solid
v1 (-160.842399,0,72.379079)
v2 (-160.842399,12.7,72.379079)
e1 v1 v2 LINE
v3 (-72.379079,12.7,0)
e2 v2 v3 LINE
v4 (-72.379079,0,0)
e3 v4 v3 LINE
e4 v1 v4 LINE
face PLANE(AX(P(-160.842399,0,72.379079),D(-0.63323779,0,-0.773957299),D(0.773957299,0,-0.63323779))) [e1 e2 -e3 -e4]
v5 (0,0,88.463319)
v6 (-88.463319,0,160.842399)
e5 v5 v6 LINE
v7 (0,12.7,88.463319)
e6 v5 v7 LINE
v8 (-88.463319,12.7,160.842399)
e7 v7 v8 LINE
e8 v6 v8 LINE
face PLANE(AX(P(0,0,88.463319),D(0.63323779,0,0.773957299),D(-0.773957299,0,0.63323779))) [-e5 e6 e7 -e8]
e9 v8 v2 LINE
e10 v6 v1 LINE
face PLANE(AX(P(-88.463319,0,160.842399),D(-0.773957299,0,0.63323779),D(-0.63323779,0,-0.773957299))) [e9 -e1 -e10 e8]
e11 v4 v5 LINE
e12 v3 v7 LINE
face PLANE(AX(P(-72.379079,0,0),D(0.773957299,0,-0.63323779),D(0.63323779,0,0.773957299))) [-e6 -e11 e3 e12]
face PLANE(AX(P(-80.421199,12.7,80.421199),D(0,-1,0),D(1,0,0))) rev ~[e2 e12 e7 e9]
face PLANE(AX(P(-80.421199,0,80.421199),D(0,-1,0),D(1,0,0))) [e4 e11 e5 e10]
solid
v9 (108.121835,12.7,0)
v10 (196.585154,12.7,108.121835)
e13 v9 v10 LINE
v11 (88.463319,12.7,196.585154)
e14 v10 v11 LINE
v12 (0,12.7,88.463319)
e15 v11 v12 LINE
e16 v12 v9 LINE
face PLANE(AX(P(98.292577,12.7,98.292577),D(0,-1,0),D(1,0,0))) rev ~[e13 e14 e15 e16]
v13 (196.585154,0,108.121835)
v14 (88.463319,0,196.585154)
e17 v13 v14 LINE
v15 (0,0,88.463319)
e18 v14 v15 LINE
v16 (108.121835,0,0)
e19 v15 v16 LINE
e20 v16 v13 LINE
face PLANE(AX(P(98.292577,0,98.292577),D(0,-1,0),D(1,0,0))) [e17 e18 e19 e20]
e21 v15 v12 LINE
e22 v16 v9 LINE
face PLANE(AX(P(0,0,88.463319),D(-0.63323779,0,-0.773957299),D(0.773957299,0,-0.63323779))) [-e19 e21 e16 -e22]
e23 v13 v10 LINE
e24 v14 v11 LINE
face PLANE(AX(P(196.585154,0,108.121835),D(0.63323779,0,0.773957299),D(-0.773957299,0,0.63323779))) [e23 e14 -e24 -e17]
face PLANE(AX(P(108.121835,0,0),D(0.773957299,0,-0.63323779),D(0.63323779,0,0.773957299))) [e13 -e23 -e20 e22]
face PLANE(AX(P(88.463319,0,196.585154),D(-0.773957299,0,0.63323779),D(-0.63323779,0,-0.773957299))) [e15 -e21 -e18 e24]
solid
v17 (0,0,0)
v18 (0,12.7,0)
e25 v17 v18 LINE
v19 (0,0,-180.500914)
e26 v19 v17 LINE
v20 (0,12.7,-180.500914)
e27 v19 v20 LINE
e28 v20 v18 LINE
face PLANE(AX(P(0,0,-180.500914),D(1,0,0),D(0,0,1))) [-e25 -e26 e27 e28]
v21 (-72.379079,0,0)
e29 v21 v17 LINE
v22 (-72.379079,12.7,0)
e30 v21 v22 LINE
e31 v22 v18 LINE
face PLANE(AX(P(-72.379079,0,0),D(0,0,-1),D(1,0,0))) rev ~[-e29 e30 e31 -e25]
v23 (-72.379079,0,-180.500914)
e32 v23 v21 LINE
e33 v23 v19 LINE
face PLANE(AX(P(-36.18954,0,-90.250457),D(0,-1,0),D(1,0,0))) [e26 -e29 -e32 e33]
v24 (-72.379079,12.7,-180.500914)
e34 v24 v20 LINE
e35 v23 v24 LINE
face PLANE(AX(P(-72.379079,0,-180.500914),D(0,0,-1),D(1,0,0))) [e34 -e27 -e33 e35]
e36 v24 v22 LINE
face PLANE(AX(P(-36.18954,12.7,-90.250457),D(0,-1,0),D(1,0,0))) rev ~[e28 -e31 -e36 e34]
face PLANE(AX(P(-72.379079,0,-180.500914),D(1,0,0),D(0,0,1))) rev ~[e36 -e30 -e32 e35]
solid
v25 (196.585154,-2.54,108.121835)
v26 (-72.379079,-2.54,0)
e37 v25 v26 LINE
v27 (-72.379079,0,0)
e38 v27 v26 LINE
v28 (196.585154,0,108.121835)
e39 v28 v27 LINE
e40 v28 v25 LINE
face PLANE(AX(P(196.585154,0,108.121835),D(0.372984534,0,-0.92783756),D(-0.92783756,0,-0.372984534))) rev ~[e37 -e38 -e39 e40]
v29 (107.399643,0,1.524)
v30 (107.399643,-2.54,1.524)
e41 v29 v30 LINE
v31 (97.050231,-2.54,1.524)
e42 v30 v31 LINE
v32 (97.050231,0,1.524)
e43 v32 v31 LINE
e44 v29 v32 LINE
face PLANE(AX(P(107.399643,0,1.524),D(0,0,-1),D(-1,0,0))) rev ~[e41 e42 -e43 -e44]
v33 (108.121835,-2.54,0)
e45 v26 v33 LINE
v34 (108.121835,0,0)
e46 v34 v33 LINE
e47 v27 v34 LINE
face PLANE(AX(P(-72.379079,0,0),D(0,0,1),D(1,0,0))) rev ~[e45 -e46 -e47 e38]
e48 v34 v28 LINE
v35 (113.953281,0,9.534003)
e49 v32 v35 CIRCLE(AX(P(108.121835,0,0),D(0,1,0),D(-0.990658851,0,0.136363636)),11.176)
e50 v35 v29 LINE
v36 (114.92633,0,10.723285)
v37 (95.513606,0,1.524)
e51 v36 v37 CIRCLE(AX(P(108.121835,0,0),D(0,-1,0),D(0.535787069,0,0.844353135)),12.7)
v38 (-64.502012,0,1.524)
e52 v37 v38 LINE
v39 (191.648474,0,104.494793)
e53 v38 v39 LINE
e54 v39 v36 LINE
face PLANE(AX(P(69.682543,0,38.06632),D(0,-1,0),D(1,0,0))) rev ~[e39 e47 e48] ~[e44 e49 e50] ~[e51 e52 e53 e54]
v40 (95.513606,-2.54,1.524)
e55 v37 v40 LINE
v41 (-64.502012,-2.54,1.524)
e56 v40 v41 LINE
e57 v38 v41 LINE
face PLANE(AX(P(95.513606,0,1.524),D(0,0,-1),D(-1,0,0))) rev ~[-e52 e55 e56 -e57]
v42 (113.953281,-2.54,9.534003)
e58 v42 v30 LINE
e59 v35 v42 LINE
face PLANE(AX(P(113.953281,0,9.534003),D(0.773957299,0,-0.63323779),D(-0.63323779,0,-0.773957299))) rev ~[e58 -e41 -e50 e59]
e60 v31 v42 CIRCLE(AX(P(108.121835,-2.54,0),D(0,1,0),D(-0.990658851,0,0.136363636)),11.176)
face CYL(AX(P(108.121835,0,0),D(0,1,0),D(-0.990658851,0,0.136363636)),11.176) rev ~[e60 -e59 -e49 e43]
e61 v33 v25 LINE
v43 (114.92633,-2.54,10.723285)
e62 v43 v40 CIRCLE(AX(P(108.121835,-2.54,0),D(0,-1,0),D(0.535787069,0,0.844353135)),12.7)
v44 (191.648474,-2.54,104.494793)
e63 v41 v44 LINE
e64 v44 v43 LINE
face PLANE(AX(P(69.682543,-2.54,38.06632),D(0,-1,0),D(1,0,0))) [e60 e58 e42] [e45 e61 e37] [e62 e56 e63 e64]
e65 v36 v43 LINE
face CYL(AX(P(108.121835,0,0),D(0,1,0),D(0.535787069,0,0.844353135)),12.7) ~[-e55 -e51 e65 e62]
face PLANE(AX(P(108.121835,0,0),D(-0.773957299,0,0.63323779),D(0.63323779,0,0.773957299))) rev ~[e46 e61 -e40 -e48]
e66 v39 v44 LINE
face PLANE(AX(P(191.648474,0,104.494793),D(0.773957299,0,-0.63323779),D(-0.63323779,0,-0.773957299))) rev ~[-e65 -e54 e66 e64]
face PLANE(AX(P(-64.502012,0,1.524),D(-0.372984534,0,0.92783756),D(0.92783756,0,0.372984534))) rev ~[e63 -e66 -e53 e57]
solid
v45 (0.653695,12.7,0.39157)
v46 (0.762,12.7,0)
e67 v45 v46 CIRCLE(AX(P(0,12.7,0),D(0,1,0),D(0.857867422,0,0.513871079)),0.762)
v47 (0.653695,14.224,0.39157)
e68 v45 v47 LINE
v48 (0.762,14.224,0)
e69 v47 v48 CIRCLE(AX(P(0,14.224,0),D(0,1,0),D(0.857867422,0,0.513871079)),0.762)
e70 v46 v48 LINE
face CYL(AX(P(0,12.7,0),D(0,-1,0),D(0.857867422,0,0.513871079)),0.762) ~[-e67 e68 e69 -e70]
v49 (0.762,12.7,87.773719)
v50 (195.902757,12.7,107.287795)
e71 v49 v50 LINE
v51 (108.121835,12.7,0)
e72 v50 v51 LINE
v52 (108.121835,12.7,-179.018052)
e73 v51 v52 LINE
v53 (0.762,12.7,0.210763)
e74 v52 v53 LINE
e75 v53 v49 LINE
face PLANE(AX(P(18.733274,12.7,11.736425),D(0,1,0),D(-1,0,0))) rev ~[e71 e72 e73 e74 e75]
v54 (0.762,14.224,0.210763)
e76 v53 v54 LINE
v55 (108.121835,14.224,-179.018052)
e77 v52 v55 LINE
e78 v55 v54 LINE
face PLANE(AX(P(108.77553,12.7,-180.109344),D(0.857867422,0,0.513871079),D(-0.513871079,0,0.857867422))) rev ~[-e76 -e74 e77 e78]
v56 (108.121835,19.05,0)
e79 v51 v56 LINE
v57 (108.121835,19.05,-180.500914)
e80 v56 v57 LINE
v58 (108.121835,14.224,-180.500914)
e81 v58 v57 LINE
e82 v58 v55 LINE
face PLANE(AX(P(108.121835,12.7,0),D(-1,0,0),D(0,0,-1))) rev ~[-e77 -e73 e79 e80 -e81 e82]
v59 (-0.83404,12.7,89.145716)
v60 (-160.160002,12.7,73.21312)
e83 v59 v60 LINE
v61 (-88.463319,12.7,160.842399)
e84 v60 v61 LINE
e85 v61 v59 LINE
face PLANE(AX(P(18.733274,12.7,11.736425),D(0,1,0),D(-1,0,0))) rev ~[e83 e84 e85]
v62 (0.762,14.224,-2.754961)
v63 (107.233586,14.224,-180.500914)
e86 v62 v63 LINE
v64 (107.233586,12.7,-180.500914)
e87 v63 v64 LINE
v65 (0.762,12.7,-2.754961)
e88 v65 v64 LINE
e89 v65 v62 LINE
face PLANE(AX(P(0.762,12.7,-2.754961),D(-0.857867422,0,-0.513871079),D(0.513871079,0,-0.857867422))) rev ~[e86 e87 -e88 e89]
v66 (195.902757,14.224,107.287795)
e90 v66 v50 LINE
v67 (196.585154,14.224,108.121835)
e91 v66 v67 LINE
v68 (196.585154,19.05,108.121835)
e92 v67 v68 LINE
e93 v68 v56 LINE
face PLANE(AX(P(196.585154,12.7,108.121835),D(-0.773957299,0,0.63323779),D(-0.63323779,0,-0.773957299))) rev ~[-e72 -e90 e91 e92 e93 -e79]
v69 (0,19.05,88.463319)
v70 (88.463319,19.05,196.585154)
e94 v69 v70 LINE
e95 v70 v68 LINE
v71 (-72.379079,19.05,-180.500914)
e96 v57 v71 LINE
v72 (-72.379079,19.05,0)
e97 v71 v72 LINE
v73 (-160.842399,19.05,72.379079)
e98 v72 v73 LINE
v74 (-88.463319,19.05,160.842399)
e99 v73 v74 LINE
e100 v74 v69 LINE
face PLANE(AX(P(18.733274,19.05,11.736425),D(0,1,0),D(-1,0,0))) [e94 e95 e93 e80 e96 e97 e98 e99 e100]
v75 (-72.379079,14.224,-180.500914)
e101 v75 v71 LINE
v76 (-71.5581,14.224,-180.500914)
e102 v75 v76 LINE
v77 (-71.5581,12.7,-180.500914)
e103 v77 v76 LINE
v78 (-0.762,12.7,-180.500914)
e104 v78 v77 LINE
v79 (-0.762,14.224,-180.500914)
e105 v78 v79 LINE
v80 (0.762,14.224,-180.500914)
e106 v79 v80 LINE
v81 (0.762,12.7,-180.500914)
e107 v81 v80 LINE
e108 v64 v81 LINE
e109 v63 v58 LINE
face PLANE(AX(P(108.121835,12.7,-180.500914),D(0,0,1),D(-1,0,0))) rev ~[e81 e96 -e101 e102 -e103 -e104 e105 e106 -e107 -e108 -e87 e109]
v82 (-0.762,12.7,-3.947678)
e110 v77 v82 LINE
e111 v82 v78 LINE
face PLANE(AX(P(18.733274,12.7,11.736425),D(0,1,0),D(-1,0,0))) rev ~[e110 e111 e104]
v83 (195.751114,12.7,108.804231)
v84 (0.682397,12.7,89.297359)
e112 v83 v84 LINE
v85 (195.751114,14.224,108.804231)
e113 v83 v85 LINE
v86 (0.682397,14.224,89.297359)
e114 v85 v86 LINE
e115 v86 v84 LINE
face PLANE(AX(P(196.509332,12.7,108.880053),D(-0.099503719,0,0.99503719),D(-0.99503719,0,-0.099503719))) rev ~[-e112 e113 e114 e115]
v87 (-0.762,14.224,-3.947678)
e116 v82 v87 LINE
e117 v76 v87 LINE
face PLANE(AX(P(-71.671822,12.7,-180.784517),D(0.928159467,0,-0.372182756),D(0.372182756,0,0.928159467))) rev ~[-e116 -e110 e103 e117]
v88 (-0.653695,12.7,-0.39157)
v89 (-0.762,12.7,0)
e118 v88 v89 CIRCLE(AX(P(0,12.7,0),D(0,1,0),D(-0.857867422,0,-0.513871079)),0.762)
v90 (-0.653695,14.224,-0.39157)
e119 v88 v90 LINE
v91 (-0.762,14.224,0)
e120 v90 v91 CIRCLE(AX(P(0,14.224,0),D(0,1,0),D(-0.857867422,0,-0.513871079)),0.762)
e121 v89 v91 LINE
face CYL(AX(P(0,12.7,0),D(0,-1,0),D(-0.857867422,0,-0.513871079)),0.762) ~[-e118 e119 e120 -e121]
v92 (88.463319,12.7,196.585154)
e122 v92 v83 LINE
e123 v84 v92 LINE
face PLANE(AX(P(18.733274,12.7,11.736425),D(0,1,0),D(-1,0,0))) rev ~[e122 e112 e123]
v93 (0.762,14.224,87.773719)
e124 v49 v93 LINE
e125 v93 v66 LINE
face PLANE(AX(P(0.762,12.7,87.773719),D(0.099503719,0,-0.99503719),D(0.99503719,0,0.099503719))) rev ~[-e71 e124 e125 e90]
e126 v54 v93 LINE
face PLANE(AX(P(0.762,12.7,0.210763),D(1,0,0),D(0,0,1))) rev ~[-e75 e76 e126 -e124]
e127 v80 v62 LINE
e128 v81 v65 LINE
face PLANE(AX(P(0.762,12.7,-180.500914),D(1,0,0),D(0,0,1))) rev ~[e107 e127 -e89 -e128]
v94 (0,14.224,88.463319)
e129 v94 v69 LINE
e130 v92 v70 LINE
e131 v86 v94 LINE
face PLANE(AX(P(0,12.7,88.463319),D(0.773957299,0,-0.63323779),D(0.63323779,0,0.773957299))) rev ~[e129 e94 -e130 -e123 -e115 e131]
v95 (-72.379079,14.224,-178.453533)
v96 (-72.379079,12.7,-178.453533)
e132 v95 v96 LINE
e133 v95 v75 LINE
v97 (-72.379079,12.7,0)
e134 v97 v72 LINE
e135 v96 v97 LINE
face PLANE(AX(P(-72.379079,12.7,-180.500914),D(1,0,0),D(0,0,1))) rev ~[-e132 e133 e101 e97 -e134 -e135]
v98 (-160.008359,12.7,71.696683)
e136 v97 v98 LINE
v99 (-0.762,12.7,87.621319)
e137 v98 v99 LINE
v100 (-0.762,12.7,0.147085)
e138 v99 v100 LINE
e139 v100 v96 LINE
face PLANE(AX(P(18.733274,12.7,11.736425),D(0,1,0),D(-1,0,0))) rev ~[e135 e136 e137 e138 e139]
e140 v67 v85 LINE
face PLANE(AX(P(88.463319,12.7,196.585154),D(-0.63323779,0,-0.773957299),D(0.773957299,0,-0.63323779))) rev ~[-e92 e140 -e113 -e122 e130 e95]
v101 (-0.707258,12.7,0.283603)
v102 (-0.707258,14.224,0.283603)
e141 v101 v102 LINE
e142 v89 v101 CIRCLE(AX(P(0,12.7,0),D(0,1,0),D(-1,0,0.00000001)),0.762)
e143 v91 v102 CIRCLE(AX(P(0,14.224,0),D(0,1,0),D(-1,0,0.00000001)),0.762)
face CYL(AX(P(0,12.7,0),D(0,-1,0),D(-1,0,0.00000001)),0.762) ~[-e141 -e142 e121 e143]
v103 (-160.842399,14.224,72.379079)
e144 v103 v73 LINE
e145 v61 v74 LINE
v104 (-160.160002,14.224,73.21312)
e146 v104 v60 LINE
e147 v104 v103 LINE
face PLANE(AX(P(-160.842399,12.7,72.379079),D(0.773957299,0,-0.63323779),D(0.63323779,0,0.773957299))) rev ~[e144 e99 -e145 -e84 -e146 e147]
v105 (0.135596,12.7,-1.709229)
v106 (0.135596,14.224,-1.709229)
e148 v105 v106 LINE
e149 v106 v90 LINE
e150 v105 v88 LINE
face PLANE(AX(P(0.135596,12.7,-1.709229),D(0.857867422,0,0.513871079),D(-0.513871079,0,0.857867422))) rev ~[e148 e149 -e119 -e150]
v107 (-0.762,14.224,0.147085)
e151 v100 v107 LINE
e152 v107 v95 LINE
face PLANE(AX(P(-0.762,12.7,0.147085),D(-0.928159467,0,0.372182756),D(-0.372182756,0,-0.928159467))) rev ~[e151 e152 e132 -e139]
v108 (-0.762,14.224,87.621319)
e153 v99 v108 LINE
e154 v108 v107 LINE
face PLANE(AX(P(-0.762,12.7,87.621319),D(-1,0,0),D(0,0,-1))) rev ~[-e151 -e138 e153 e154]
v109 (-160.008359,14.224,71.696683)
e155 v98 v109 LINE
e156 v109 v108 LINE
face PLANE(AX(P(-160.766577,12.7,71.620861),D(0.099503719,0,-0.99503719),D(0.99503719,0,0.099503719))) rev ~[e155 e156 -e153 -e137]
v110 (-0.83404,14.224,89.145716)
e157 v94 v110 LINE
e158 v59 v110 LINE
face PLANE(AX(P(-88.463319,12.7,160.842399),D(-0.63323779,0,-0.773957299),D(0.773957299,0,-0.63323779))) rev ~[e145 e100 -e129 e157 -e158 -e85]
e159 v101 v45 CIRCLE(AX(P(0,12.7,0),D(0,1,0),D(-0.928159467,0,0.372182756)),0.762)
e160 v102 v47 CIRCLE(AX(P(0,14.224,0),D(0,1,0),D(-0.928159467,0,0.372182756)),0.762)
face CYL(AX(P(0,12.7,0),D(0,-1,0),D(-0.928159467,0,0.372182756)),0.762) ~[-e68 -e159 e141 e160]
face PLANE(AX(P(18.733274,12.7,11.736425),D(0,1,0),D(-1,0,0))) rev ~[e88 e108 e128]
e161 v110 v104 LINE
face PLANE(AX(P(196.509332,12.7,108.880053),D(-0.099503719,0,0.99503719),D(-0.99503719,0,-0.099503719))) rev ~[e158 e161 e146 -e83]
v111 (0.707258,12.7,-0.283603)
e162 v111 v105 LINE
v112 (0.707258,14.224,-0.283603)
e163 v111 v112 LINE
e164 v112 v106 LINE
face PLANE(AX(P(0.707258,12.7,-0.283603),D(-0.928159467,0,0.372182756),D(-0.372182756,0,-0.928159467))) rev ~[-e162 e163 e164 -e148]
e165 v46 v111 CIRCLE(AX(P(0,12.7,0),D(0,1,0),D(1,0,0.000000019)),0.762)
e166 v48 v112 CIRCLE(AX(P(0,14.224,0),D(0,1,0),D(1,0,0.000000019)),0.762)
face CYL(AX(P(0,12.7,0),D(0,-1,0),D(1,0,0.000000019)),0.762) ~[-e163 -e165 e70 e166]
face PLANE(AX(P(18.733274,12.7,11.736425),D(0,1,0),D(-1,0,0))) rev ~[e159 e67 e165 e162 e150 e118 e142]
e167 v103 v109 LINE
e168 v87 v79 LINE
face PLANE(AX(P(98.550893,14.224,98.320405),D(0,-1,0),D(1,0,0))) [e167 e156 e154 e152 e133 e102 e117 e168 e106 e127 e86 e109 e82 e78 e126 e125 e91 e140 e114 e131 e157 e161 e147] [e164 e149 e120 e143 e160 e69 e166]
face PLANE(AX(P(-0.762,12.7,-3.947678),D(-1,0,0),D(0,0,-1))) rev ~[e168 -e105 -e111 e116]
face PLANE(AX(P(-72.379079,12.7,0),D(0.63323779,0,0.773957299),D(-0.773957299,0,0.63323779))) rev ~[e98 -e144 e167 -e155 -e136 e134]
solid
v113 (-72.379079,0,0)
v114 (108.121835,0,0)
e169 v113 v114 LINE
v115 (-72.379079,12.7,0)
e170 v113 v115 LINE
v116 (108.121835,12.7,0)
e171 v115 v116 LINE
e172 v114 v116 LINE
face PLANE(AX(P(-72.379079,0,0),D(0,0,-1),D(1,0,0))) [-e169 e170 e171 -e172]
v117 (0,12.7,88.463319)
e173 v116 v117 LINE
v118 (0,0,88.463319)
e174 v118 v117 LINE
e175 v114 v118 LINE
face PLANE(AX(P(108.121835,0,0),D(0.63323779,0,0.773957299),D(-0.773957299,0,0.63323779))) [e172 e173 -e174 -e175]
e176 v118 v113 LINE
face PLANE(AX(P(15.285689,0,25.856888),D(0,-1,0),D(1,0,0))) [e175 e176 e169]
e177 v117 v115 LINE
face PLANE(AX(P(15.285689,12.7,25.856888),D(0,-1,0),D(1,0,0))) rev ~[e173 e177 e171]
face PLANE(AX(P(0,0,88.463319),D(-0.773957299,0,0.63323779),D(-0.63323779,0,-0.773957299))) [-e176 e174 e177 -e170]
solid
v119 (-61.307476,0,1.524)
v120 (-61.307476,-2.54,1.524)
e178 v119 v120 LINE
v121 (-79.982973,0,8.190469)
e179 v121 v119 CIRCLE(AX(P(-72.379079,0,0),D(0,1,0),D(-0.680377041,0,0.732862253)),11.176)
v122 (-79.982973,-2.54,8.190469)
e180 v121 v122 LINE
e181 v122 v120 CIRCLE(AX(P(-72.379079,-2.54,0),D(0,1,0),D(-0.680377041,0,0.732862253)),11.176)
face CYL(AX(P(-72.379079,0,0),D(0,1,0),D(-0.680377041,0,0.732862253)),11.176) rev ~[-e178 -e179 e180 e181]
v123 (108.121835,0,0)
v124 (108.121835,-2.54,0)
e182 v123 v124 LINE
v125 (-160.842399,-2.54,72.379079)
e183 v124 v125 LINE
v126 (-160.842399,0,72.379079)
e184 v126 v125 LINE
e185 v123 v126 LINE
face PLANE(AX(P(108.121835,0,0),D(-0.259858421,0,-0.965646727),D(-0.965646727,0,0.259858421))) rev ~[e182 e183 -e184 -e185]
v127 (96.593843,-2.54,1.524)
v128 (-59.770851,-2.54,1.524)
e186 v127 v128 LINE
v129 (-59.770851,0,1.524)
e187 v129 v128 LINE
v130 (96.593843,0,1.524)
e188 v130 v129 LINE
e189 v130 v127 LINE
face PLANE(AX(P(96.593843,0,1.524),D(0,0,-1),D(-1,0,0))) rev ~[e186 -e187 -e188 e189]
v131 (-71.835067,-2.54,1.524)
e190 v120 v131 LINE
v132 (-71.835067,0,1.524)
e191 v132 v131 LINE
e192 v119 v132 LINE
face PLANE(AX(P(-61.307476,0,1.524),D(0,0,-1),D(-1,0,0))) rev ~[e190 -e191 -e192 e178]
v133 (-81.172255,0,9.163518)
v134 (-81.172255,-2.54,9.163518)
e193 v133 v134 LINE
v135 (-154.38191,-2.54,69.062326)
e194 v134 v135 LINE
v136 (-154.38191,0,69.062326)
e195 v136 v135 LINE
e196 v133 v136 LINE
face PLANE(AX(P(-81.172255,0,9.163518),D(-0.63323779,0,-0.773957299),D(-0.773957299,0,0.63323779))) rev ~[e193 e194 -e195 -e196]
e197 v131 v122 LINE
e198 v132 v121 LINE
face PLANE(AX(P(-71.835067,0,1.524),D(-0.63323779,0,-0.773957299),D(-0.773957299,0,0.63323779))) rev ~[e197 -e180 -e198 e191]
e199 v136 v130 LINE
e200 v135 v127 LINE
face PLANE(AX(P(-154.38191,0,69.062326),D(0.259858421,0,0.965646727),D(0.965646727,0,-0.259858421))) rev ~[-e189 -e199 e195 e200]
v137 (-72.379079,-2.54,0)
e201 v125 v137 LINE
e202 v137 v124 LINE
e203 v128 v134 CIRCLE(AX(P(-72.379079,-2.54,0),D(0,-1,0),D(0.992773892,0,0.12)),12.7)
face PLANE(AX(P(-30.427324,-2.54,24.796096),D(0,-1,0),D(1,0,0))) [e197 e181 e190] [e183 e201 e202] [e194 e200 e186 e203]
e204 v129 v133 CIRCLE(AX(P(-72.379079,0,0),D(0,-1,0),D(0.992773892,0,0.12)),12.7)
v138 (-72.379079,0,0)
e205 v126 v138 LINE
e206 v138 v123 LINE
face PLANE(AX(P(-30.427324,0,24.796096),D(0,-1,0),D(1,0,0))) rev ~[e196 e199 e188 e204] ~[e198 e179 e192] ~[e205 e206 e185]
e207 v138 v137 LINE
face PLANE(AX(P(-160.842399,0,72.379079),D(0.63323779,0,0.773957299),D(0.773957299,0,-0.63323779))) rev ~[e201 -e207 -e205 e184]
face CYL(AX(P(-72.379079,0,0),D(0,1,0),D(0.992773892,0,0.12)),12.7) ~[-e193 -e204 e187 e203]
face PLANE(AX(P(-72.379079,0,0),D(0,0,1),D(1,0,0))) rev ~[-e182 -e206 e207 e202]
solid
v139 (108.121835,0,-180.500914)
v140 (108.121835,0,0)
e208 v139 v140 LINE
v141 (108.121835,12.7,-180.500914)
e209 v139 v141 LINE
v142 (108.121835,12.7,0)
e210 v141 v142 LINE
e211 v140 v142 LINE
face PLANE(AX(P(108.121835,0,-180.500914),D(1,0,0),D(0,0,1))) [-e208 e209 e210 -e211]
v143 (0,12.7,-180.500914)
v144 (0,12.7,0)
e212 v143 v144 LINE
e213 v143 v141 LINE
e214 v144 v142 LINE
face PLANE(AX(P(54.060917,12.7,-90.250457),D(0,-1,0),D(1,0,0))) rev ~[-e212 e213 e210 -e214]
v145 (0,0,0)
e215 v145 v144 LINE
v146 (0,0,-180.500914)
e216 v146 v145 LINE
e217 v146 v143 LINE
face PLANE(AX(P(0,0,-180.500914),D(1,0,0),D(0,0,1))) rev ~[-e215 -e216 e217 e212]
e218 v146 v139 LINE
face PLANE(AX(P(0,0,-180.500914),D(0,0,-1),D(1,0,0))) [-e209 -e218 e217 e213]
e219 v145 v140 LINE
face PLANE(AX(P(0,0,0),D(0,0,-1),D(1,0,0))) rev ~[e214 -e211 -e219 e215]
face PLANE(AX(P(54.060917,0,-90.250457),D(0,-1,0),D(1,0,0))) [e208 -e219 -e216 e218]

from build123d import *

# Parameters (mm, degrees)
F1_DEPTH  = 12.7
F3_DEPTH  = 6.35
F4_DEPTH  = 12.7
F0_W      = 72.3790794264
F0_H      = 180.5009141251
F5_DEPTH  = 12.7
F6_DEPTH  = 12.7
F0_W_2    = 108.1218346987
F7_DEPTH  = 12.7
F9_DEPTH  = 2.54
F11_DEPTH = 2.54
F13_DEPTH = 1.524


with BuildPart() as f1:
    # F0 (on Front) → F1 (new body)
    with BuildSketch(Plane.XZ):
        Polygon((0, 88.4633192989), (-72.3790794264, 0), (0, 0), (108.1218346987, 0), align=None)
    extrude(amount=-F1_DEPTH)


with BuildPart() as f3:
    # F2 (on face) → F3 (new body)
    with BuildSketch(Plane(origin=(0, 12.7, 0), x_dir=(-1, 0, 0), z_dir=(0, 1, 0))):
        Polygon((-196.5851539976, 108.1218346987), (-108.1218346987, 0), (-108.1218346987, -180.5009141251), (72.3790794264, -180.5009141251), (72.3790794264, 0), (160.8423987253, 72.3790794264), (88.4633192989, 160.8423987253), (0, 88.4633192989), (-88.4633192989, 196.5851539976), align=None)
    extrude(amount=F3_DEPTH)

    # F12 (on face) → F13 (cut)
    with BuildSketch(Plane.XZ.offset(-12.7)):
        with BuildLine():
            Line((196.5093321637, 108.8800530376), (-0.0758218339, 89.2215376379))
            ThreePointArc((-0.0758218339, 89.2215376379), (0.5113060544, 89.0283061295), (0.762, 88.4633192989))
            Line((0.762, 88.4633192989), (0.762, 87.7737187766))
            Line((0.762, 87.7737187766), (196.6609758315, 107.3636163598))
            ThreePointArc((196.6609758315, 107.3636163598), (197.3433723366, 108.1976565326), (196.5093321637, 108.8800530376))
        make_face()
        with BuildLine():
            ThreePointArc((-0.762, 88.4633192989), (-0.5649868306, 88.9746253534), (-0.0758218339, 89.2215376379))
            Line((-0.0758218339, 89.2215376379), (-160.9182205592, 73.1372977653))
            ThreePointArc((-160.9182205592, 73.1372977653), (-161.6006170643, 72.3032575925), (-160.7665768915, 71.6208610875))
            Line((-160.7665768915, 71.6208610875), (-0.762, 87.6213187766))
            Line((-0.762, 87.6213187766), (-0.762, 88.4633192989))
        make_face()
        with BuildLine():
            ThreePointArc((0.762, 88.4633192989), (0.5113060544, 89.0283061295), (-0.0758218339, 89.2215376379))
            ThreePointArc((-0.0758218339, 89.2215376379), (-0.5649868306, 88.9746253534), (-0.762, 88.4633192989))
            ThreePointArc((-0.762, 88.4633192989), (-0.5113060544, 87.8983324684), (0.0758218339, 87.70510096))
            ThreePointArc((0.0758218339, 87.70510096), (0.5649868306, 87.9520132445), (0.762, 88.4633192989))
        make_face()
        with BuildLine():
            Line((0.762, 87.7737187766), (0.762, 88.4633192989))
            ThreePointArc((0.762, 88.4633192989), (0.5649868306, 87.9520132445), (0.0758218339, 87.70510096))
            Line((0.0758218339, 87.70510096), (0.762, 87.7737187766))
        make_face()
        with BuildLine():
            ThreePointArc((0.0758218339, 87.70510096), (-0.5113060544, 87.8983324684), (-0.762, 88.4633192989))
            Line((-0.762, 88.4633192989), (-0.762, 87.6213187766))
            Line((-0.762, 87.6213187766), (0.0758218339, 87.70510096))
        make_face()
        with BuildLine():
            Line((0.762, 87.7737187766), (0.0758218339, 87.70510096))
            Line((0.0758218339, 87.70510096), (-0.762, 87.6213187766))
            Line((-0.762, 87.6213187766), (-0.762, 0.1470849612))
            Line((-0.762, 0.1470849612), (-0.7072575137, 0.2836032604))
            ThreePointArc((-0.7072575137, 0.2836032604), (-0.060261329, 0.7596134361), (0.6536949755, 0.3915697626))
            Line((0.6536949755, 0.3915697626), (0.762, 0.2107630275))
            Line((0.762, 0.2107630275), (0.762, 87.7737187766))
        make_face()
        with BuildLine():
            Line((108.7755296742, -180.1093443625), (0.762, 0.2107630275))
            Line((0.762, 0.2107630275), (0.762, 1.47e-08))
            Line((0.762, 1.47e-08), (0.762, -2.7549613746))
            Line((0.762, -2.7549613746), (107.4681397232, -180.8924838877))
            ThreePointArc((107.4681397232, -180.8924838877), (108.5134044613, -181.1546091006), (108.7755296742, -180.1093443625))
        make_face()
        with BuildLine():
            Line((0.762, 1.47e-08), (0.762, 0.2107630275))
            Line((0.762, 0.2107630275), (0.6536949755, 0.3915697626))
            ThreePointArc((0.6536949755, 0.3915697626), (0.7344247972, 0.2031359574), (0.762, 1.47e-08))
        make_face()
        with BuildLine():
            Line((-0.7072575137, 0.2836032604), (-0.762, 0.1470849612))
            Line((-0.762, 0.1470849612), (-0.762, 7.8e-09))
            ThreePointArc((-0.762, 7.8e-09), (-0.7481892218, 0.1444191413), (-0.7072575137, 0.2836032604))
        make_face()
        with BuildLine():
            Line((-0.762, 7.8e-09), (-0.762, 0.1470849612))
            Line((-0.762, 0.1470849612), (-73.0863369401, -180.2173108647))
            ThreePointArc((-73.0863369401, -180.2173108647), (-72.6626826868, -181.2081716388), (-71.6718219127, -180.7845173855))
            Line((-71.6718219127, -180.7845173855), (-0.762, -3.9476775538))
            Line((-0.762, -3.9476775538), (-0.762, 7.8e-09))
        make_face()
        with BuildLine():
            Line((0.762, -2.7549613746), (0.762, 1.47e-08))
            ThreePointArc((0.762, 1.47e-08), (0.7481892239, -0.1444191303), (0.7072575137, -0.2836032604))
            Line((0.7072575137, -0.2836032604), (0.1355958061, -1.7092287534))
            Line((0.1355958061, -1.7092287534), (0.762, -2.7549613746))
        make_face()
        with BuildLine():
            ThreePointArc((-0.6536949755, -0.3915697626), (-0.7344248002, -0.2031359466), (-0.762, 7.8e-09))
            Line((-0.762, 7.8e-09), (-0.762, -3.9476775538))
            Line((-0.762, -3.9476775538), (0.1355958061, -1.7092287534))
            Line((0.1355958061, -1.7092287534), (-0.6536949755, -0.3915697626))
        make_face()
        with BuildLine():
            Line((0.762, -180.5009141251), (0.762, -2.7549613746))
            Line((0.762, -2.7549613746), (0.1355958061, -1.7092287534))
            Line((0.1355958061, -1.7092287534), (-0.762, -3.9476775538))
            Line((-0.762, -3.9476775538), (-0.762, -180.5009141251))
            ThreePointArc((-0.762, -180.5009141251), (0, -181.2629141251), (0.762, -180.5009141251))
        make_face()
    extrude(amount=-F13_DEPTH, mode=Mode.SUBTRACT)


with BuildPart() as f4:
    # F0 (on Front) → F4 (new body)
    with BuildSketch(Plane.XZ):
        Polygon((-160.8423987253, 72.3790794264), (-72.3790794264, 0), (0, 88.4633192989), (-88.4633192989, 160.8423987253), align=None)
    extrude(amount=-F4_DEPTH)


with BuildPart() as f5:
    # F0 (on Front) → F5 (new body)
    with BuildSketch(Plane.XZ):
        with Locations((-36.1895397132, -90.2504570626)):
            Rectangle(F0_W, F0_H)
    extrude(amount=-F5_DEPTH)


with BuildPart() as f6:
    # F0 (on Front) → F6 (new body)
    with BuildSketch(Plane.XZ):
        Polygon((88.4633192989, 196.5851539976), (0, 88.4633192989), (108.1218346987, 0), (196.5851539976, 108.1218346987), align=None)
    extrude(amount=-F6_DEPTH)


with BuildPart() as f7:
    # F0 (on Front) → F7 (new body)
    with BuildSketch(Plane.XZ):
        with Locations((54.0609173494, -90.2504570626)):
            Rectangle(F0_W_2, F0_H)
    extrude(amount=-F7_DEPTH)


with BuildPart() as f9:
    # F8 (on Front) → F9 (new body)
    with BuildSketch(Plane.XZ):
        Polygon((-160.8423987253, 72.3790794264), (-72.3790794264, 0), (108.1218346987, 0), align=None)
        with BuildLine():
            Line((-61.3074761098, 1.524), (-71.8350672381, 1.524))
            Line((-71.8350672381, 1.524), (-79.9829732348, 8.1904685428))
            ThreePointArc((-79.9829732348, 8.1904685428), (-68.6218593082, 10.5255058303), (-61.3074761098, 1.524))
        make_face(mode=Mode.SUBTRACT)
        with BuildLine():
            Line((-154.3819095996, 69.0623255685), (96.593843439, 1.524))
            Line((96.593843439, 1.524), (-59.7708510021, 1.524))
            ThreePointArc((-59.7708510021, 1.524), (-68.1095111103, 11.9608020799), (-81.1722554531, 9.1635176305))
            Line((-81.1722554531, 9.1635176305), (-154.3819095996, 69.0623255685))
        make_face(mode=Mode.SUBTRACT)
    extrude(amount=F9_DEPTH)


with BuildPart() as f11:
    # F10 (on face) → F11 (new body)
    with BuildSketch(Plane.XZ):
        Polygon((-72.3790794264, 0), (108.1218346987, 0), (196.5851539976, 108.1218346987), align=None)
        with BuildLine():
            Line((113.9532813935, 9.5340025931), (107.3996429082, 1.524))
            Line((107.3996429082, 1.524), (97.0502313821, 1.524))
            ThreePointArc((97.0502313821, 1.524), (103.3359339746, 10.099412372), (113.9532813935, 9.5340025931))
        make_face(mode=Mode.SUBTRACT)
        with BuildLine():
            Line((95.5136062744, 1.524), (-64.5020116843, 1.524))
            Line((-64.5020116843, 1.524), (191.6484736244, 104.4947930975))
            Line((191.6484736244, 104.4947930975), (114.9263304812, 10.7232848114))
            ThreePointArc((114.9263304812, 10.7232848114), (102.6833111486, 11.4766049682), (95.5136062744, 1.524))
        make_face(mode=Mode.SUBTRACT)
    extrude(amount=F11_DEPTH)


solid = Compound([f1.part, f3.part, f4.part, f5.part, f6.part, f7.part, f9.part, f11.part])
